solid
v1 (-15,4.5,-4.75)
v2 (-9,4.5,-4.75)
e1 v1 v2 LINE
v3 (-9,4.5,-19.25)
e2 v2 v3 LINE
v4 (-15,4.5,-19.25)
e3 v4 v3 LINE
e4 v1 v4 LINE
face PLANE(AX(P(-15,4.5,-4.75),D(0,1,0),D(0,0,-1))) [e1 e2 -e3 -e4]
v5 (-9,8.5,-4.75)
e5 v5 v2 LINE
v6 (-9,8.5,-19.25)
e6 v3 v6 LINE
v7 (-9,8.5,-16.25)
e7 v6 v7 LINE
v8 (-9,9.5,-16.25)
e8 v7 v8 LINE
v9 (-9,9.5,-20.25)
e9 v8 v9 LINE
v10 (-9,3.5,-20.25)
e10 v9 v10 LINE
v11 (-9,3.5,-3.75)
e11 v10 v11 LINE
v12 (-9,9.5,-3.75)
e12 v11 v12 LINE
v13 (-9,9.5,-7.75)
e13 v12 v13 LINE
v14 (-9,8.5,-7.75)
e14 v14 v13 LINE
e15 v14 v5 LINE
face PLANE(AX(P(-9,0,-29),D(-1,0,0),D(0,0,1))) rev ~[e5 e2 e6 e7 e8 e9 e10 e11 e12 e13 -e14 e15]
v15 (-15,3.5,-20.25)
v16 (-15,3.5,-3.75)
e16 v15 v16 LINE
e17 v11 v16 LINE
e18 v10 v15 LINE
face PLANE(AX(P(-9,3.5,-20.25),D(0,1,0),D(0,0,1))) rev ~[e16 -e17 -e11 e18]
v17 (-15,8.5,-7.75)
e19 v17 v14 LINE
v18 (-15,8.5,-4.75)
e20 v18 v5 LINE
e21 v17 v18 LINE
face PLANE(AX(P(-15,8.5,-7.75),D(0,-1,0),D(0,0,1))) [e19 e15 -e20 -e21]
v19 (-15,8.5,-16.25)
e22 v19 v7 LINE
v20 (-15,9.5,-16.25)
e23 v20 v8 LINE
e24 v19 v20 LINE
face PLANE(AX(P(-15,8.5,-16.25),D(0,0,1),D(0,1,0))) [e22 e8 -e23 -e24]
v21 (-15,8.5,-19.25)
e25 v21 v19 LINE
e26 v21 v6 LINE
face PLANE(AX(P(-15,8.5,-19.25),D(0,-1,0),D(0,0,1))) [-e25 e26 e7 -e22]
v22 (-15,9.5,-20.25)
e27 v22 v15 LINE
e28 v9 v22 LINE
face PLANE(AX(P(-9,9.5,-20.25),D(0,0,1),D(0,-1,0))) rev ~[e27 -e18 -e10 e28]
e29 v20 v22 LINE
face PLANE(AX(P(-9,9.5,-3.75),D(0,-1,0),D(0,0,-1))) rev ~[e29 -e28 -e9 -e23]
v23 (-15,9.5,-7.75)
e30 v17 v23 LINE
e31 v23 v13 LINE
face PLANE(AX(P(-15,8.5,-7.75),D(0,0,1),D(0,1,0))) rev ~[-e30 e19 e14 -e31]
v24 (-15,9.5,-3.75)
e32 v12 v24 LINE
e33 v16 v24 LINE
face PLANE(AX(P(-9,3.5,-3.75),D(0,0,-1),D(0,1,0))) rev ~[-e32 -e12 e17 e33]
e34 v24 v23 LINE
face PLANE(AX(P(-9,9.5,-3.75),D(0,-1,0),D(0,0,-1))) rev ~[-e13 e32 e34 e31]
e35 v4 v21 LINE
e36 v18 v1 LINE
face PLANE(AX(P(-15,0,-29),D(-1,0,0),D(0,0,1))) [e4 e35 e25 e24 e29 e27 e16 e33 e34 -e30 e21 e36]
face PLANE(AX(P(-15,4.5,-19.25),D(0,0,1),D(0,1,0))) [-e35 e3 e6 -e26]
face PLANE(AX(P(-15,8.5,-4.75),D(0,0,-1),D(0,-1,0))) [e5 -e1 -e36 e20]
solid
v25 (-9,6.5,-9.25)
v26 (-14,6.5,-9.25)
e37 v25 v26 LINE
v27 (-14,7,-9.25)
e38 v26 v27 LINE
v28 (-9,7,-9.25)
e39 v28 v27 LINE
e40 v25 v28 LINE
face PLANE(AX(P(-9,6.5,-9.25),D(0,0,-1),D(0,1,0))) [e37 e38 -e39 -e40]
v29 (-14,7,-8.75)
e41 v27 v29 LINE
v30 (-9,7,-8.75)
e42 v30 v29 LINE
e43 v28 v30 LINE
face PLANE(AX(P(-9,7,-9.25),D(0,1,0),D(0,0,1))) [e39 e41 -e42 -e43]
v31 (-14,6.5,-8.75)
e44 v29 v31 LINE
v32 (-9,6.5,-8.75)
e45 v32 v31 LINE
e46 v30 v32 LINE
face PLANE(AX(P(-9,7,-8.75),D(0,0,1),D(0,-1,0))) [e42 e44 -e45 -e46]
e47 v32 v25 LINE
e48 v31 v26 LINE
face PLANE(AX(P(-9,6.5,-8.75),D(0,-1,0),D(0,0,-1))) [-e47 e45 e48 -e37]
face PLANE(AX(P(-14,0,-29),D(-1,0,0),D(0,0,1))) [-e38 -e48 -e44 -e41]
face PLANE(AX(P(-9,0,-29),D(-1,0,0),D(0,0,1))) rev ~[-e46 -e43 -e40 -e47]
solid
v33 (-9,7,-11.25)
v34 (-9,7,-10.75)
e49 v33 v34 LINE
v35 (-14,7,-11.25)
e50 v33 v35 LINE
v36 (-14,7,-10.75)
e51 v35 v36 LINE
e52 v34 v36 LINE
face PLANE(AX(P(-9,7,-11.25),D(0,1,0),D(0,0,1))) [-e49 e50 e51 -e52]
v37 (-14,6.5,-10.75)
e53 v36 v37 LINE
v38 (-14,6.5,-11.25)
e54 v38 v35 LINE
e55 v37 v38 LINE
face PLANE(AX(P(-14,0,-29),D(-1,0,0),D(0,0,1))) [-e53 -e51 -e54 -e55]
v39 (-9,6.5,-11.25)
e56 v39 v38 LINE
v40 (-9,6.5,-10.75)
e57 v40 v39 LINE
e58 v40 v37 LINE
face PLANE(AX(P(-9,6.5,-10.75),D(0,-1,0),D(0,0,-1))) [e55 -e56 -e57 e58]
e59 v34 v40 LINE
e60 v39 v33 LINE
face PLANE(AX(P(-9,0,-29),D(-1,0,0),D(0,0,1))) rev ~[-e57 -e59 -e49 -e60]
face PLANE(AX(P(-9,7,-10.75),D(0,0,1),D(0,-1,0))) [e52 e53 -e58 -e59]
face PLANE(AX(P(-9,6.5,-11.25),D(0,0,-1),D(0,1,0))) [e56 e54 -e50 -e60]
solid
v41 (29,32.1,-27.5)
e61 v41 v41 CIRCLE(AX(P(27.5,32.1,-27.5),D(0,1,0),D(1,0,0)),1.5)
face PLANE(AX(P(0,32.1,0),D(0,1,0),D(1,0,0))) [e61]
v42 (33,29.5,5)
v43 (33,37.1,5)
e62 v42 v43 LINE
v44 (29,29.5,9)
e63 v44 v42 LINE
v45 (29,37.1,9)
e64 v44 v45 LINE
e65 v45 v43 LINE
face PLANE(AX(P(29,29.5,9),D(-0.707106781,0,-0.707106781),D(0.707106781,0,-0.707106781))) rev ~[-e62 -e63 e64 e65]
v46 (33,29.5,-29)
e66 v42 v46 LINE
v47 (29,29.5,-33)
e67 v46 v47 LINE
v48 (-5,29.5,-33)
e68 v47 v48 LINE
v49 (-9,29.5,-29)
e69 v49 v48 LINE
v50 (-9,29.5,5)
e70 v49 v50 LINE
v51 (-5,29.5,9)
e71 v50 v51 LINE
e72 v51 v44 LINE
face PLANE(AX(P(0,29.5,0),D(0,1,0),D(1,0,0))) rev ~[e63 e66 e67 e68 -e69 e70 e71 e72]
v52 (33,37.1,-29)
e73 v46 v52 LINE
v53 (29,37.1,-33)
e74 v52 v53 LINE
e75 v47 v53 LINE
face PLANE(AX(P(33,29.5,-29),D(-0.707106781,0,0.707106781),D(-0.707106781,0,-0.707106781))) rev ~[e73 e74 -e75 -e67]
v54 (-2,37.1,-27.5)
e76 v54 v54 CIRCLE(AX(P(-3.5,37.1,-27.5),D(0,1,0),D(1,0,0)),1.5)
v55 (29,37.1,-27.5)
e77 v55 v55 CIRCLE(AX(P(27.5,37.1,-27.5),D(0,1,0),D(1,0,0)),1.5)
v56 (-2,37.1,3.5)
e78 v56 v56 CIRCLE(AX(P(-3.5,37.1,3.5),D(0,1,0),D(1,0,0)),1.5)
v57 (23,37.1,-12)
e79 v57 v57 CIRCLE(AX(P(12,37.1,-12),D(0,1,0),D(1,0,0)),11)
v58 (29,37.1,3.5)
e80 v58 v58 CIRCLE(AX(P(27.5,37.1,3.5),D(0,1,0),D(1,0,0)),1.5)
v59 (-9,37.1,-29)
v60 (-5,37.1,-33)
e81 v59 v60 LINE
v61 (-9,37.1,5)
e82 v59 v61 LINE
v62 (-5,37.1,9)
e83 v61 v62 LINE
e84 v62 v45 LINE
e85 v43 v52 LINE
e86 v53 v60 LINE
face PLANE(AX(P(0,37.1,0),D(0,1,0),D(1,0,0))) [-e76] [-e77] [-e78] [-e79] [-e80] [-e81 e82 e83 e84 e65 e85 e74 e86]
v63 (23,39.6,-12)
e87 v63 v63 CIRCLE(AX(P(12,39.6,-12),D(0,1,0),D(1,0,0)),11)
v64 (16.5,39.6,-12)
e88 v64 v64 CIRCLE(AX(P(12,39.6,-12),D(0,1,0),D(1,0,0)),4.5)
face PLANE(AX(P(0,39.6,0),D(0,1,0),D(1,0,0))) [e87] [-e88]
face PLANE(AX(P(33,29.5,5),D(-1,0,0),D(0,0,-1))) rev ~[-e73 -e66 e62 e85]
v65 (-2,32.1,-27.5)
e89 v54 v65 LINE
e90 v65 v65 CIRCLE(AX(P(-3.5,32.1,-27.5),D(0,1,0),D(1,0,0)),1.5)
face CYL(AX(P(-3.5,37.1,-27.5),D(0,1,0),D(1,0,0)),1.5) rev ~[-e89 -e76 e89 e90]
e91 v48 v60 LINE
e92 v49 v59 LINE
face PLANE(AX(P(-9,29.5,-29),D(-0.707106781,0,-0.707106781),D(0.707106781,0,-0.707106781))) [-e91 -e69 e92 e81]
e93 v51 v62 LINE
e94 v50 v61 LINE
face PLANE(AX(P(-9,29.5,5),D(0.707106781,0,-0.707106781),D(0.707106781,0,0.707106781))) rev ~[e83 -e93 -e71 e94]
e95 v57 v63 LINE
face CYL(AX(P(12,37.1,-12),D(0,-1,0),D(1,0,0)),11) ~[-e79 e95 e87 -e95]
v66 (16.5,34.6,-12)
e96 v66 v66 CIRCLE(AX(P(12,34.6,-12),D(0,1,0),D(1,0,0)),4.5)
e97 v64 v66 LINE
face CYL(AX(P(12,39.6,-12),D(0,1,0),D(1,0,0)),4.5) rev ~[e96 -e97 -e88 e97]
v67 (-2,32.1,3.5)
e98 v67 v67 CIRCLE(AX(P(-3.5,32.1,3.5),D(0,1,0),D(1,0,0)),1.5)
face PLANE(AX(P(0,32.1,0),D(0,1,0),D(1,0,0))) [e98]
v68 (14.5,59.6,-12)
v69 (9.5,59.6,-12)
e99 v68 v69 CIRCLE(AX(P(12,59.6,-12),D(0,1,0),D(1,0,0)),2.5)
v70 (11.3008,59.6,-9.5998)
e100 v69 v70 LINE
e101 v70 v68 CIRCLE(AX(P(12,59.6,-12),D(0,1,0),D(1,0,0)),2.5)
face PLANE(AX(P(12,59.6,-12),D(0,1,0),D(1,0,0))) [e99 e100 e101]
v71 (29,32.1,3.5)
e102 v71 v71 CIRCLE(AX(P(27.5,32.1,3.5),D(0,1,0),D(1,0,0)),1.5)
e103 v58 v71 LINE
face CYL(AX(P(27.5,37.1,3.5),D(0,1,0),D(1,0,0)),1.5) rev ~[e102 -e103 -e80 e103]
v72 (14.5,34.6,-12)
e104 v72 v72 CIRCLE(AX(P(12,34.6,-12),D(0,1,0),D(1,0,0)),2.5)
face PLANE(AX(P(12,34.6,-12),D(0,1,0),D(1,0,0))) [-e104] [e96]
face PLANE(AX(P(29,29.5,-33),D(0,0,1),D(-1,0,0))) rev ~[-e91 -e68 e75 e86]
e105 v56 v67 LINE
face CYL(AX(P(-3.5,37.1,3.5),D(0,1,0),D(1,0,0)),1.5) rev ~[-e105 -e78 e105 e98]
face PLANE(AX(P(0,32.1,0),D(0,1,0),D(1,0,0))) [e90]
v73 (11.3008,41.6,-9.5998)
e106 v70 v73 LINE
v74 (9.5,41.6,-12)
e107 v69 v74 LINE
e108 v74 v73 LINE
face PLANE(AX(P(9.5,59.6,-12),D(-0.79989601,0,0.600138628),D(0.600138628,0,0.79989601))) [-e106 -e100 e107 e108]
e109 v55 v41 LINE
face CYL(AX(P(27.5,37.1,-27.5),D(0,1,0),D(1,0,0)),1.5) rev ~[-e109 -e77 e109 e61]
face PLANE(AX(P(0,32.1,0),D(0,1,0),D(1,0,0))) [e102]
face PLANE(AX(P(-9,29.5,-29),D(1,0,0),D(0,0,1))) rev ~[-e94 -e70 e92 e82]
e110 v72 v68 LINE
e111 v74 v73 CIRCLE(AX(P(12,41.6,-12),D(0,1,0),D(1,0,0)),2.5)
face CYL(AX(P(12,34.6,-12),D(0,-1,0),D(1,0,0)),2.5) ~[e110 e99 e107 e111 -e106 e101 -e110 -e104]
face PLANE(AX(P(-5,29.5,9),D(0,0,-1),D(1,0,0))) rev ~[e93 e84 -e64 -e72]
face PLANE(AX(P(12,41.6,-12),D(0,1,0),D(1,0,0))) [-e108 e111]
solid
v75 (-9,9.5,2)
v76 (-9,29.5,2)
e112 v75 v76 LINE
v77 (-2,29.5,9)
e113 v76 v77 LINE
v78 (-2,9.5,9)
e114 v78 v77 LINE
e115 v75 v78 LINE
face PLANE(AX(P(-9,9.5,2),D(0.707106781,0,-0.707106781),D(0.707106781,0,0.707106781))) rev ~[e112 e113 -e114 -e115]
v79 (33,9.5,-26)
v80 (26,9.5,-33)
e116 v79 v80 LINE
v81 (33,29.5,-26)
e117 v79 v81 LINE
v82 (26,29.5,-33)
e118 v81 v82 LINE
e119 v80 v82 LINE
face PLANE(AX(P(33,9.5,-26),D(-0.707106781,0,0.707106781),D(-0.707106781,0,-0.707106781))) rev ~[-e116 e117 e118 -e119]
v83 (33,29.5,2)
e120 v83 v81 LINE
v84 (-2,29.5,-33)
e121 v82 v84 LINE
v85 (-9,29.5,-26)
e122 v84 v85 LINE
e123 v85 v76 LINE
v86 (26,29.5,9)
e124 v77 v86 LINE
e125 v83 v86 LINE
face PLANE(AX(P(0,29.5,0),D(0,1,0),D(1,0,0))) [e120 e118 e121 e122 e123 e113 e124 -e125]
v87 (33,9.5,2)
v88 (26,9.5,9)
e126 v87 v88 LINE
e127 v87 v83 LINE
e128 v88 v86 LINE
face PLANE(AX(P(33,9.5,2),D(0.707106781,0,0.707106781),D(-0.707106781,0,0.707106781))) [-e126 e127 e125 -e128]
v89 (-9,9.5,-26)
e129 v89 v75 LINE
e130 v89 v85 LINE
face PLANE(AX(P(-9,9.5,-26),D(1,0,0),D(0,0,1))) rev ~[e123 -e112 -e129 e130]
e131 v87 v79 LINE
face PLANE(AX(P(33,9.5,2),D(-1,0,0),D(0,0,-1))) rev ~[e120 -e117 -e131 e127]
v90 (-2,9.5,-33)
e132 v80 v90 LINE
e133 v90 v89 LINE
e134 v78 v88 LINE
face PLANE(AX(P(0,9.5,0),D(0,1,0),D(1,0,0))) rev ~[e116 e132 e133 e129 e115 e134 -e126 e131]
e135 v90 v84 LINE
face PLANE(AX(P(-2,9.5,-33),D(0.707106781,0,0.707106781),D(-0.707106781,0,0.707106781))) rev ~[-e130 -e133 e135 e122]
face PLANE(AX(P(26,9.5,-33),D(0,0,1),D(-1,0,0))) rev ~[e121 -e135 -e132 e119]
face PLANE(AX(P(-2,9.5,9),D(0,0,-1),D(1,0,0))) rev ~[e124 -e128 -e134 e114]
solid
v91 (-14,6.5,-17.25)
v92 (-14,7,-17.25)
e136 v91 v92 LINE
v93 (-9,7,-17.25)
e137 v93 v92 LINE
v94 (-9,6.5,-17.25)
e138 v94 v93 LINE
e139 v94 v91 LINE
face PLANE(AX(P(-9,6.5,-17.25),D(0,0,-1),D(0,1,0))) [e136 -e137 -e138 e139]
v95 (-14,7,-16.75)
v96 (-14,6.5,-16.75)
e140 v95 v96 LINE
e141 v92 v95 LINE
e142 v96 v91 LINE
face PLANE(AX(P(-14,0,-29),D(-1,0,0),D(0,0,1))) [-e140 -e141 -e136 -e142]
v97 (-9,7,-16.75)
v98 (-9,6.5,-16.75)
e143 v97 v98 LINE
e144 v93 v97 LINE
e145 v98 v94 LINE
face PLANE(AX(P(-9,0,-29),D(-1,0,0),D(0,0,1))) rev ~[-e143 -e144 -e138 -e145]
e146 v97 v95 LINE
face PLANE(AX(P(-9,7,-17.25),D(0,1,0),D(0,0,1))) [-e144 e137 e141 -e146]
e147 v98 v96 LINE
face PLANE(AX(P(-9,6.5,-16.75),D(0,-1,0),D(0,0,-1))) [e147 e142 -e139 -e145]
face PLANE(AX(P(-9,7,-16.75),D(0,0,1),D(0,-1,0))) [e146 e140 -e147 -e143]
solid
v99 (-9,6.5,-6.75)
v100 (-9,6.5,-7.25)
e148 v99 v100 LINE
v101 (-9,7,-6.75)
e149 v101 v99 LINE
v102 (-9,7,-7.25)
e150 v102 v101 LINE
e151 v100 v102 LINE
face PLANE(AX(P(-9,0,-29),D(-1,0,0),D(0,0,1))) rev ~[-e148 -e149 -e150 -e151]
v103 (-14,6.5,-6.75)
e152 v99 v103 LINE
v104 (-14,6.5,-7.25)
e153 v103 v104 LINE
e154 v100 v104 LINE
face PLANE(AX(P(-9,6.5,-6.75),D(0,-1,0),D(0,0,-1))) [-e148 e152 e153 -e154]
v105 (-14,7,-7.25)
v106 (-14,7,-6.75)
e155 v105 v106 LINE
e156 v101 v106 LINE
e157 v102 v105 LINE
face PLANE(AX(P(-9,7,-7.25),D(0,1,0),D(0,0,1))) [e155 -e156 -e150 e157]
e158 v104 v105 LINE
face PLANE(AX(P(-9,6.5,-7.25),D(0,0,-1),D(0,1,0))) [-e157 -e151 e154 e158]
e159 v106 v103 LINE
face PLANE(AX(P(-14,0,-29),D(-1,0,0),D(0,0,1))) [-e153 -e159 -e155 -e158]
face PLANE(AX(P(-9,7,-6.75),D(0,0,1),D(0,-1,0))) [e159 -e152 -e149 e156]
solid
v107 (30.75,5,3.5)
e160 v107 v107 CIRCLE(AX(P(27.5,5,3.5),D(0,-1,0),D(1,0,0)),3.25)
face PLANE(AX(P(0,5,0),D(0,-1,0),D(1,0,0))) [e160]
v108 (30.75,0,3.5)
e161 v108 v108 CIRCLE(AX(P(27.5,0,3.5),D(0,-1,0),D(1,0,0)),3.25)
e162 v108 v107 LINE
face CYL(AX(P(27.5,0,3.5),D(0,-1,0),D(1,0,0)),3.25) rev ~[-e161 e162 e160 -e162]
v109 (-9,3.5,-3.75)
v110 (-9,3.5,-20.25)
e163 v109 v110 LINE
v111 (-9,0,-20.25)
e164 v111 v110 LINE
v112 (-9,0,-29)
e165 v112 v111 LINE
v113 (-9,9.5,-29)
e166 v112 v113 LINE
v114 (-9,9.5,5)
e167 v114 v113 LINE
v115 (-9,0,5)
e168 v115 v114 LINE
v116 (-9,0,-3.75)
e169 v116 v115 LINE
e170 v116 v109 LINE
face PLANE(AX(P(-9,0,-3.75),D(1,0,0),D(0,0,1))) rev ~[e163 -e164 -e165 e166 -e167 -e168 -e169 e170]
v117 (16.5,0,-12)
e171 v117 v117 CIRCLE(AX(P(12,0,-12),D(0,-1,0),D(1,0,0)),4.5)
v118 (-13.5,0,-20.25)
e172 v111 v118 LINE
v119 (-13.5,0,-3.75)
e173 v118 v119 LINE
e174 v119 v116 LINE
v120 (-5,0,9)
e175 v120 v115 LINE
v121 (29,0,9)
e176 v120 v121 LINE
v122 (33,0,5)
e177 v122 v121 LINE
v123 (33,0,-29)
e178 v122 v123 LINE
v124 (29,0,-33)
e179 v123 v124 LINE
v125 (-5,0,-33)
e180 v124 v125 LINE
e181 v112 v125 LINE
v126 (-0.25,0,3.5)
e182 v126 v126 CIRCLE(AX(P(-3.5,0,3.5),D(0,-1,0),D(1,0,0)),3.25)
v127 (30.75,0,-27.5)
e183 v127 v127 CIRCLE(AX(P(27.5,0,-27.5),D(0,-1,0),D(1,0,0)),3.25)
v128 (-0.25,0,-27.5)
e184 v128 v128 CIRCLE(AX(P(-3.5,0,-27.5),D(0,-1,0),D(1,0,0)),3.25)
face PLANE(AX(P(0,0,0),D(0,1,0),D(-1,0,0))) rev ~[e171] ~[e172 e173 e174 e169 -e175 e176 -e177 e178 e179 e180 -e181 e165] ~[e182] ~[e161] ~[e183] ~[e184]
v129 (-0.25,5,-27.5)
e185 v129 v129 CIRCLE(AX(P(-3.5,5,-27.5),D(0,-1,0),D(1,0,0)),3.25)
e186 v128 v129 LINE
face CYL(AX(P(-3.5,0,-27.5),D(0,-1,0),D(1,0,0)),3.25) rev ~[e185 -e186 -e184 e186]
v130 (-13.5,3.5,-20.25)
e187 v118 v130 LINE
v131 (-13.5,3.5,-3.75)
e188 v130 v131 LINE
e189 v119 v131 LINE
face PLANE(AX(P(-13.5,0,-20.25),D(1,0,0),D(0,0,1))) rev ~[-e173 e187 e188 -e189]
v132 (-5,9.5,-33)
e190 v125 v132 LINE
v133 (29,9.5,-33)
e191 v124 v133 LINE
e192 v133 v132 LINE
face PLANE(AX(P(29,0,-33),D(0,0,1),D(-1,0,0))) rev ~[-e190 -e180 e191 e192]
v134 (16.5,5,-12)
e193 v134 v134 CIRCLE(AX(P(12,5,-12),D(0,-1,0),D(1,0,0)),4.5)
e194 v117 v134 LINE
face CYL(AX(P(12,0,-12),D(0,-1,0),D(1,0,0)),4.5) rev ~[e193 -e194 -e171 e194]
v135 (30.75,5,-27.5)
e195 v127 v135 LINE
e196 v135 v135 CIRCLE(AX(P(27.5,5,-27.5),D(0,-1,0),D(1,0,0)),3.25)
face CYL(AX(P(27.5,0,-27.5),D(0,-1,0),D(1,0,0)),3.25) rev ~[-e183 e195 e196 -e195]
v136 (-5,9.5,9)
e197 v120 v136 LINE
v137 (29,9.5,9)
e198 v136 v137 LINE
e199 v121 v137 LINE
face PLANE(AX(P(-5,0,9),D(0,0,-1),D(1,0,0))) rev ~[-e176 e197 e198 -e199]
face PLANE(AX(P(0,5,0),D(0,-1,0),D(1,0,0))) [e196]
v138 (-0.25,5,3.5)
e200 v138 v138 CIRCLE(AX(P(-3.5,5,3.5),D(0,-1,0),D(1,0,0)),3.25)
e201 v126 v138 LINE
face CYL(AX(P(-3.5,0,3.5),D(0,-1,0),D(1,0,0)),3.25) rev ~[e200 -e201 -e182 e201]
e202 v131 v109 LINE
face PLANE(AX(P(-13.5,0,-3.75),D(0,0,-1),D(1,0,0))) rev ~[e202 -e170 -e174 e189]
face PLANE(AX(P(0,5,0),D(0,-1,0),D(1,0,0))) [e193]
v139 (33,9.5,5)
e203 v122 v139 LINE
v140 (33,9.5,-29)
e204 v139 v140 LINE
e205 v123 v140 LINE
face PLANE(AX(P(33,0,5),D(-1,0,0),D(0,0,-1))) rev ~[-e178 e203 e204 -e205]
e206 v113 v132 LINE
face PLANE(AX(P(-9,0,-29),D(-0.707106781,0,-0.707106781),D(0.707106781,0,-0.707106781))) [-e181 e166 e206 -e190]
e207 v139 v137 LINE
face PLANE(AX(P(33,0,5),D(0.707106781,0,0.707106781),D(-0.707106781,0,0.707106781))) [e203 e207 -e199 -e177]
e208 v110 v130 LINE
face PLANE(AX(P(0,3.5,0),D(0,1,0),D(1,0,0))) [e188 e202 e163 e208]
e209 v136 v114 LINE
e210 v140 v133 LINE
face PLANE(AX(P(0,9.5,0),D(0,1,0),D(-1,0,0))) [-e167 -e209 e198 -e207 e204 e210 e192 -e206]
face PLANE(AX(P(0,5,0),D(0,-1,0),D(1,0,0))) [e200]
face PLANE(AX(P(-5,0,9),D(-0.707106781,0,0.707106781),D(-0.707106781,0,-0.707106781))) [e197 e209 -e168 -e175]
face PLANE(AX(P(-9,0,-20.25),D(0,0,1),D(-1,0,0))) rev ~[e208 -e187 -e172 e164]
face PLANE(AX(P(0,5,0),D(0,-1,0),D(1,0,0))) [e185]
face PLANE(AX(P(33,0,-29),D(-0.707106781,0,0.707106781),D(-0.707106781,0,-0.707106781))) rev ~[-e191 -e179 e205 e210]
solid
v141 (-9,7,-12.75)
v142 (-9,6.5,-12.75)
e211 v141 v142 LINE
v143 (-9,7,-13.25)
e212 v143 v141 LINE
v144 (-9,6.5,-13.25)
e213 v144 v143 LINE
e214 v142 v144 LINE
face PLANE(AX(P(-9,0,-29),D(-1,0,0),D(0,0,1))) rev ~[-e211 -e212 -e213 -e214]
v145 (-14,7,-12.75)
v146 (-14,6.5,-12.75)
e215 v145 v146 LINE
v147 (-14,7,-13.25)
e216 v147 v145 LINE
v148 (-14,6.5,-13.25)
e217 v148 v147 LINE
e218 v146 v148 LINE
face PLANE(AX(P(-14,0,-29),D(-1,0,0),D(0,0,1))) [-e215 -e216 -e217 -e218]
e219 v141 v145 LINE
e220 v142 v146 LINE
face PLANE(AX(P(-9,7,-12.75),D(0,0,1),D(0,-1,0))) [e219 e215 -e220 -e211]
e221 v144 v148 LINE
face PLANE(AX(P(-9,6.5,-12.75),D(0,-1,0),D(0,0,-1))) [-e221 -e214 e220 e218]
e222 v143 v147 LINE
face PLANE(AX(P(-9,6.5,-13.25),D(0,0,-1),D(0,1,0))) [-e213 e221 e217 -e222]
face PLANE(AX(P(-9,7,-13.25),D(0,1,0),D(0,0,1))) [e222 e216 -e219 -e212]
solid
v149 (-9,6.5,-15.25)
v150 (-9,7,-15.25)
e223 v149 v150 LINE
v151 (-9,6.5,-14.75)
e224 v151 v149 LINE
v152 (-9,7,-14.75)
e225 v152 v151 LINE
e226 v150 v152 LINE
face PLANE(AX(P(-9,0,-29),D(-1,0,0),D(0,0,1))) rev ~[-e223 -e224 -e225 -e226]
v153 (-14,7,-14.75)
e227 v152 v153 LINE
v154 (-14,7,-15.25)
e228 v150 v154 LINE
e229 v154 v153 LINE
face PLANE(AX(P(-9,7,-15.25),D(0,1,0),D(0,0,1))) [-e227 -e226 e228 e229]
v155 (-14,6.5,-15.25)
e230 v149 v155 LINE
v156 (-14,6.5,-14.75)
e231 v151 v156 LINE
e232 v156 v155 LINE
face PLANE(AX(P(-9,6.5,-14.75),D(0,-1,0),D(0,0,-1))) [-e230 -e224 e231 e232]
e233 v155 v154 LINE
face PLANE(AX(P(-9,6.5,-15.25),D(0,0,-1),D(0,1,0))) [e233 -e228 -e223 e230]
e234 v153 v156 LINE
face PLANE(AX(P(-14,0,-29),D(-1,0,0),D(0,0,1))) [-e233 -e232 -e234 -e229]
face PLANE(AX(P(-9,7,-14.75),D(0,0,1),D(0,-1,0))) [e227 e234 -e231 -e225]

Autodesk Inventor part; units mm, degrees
ref_plane "YZ Plane" through (0, 0, 0) normal (1, 0, 0) x (0, 1, 0)
ref_plane "XZ Plane" through (0, 0, 0) normal (0, 1, 0) x (-1, 0, 0)
ref_plane "XY Plane" through (0, 0, 0) normal (0, 0, 1) x (1, 0, 0)
sketch "Эскиз1" plane through (0, 0, 0) normal (0, 1, 0) x (-1, 0, 0)
  line L0 (9, 9) -> (-33, 9)
  line L1 (-33, 9) -> (-33, -33)
  line L2 (-33, -33) -> (9, -33)
  line L3 (9, -33) -> (9, 9)
  line L4 (9, -29) -> (5, -33)
  line L5 (9, 9) -> (-33, -33) construction
  line L6 (9, -33) -> (-33, 9) construction
  line L7 (5, 9) -> (9, 5)
  line L8 (-33, 5) -> (-29, 9)
  line L9 (-33, -29) -> (-29, -33)
  line L10 (13.5, -3.75) -> (9, -3.75)
  line L11 (9, -20.25) -> (13.5, -20.25)
  line L12 (13.5, -20.25) -> (13.5, -3.75)
  point P0 (0, 0)
  dimension "d0" = 42
  dimension "d1" = 42
  dimension "d2" = 4
  dimension "d3" = 4
  dimension "d17" = 12.75
  dimension "d18" = 16.5
  dimension "d19" = 4.5
extrude "Выдавливание1" add sketch "Эскиз1" along normal blind 9.5 contours L7 L3 L4 L2 L9 L1 L8 L0 | L10 L12 L11 L3
sketch "Эскиз2" plane through (0, 0, 0) normal (0, -1, 0) x (1, 0, 0)
  line L0 (-9, -33) -> (33, -33)
  line L1 (33, -33) -> (33, 9)
  line L2 (33, 9) -> (-9, 9)
  line L3 (-9, 9) -> (-9, -33)
  line L4 (-9, -33) -> (33, 9) construction
  line L5 (33, -33) -> (-9, 9) construction
  circle A0 centre (12, -12) radius 4.5
  circle A1 centre (-3.5, -27.5) radius 3.25
  circle A2 centre (-3.5, 3.5) radius 3.25
  circle A3 centre (27.5, 3.5) radius 3.25
  circle A4 centre (27.5, -27.5) radius 3.25
  line L6 (33, 5) -> (33, -29) projected
  line L7 (-5, 9) -> (29, 9) projected
  line L8 (29, -33) -> (-5, -33) projected
  line L9 (-9, -3.75) -> (-9, 5) projected
  point P0 (0, 0)
  dimension "d22" = 9
  dimension "d23" = 6.5
  dimension "d25" = 5.5
  dimension "d28" = 360
extrude "Выдавливание2" cut sketch "Эскиз2" against normal blind 5 contours A0 | A1 | A2 | A3 | A4
sketch "Эскиз3" plane through (0, 9.5, 0) normal (0, 1, 0) x (1, 0, 0)
  line L0 (-13.5, 3.75) -> (-9, 3.75) projected
  line L1 (-13.5, 3.75) -> (-9, 3.75)
  line L2 (-9, 3.75) -> (-9, 20.25)
  line L3 (-9, 20.25) -> (-13.5, 20.25)
  line L4 (-13.5, 20.25) -> (-13.5, 3.75)
  point P0 (0, 0)
extrude "Выдавливание3" cut sketch "Эскиз3" against normal blind 6
sketch "Эскиз4" plane through (-9, 0, -29) normal (-1, 0, 0) x (0, 0, 1)
  line L0 (8.75, 3.5) -> (25.25, 3.5) projected
  line L1 (8.75, 3.5) -> (25.25, 3.5)
  line L2 (25.25, 3.5) -> (25.25, 9.5)
  line L3 (25.25, 9.5) -> (8.75, 9.5)
  line L4 (8.75, 9.5) -> (8.75, 3.5)
  point P0 (29, 0)
  dimension "d34" = 16.5
  dimension "d35" = 6
extrude "Выдавливание4" add sketch "Эскиз4" along normal blind 6 separate body
sketch "Эскиз5" plane through (-15, 0, -29) normal (-1, 0, 0) x (0, 0, 1)
  line L0 (25.25, 9.5) -> (8.75, 9.5) projected
  line L1 (25.25, 3.5) -> (8.75, 3.5) projected
  line L2 (8.75, 9.5) -> (25.25, 9.5)
  line L3 (25.25, 9.5) -> (25.25, 3.5)
  line L4 (25.25, 3.5) -> (8.75, 3.5)
  line L5 (8.75, 3.5) -> (8.75, 9.5)
  line L6 (9.75, 8.5) -> (12.75, 8.5)
  line L7 (24.25, 8.5) -> (24.25, 4.5)
  line L8 (24.25, 4.5) -> (9.75, 4.5)
  line L9 (9.75, 4.5) -> (9.75, 8.5)
  line L10 (12.75, 8.5) -> (12.75, 9.5)
  line L11 (21.25, 8.5) -> (21.25, 9.5)
  line L12 (0, 9.5) -> (34, 9.5) projected
  line L13 (21.25, 8.5) -> (24.25, 8.5)
  point P0 (29, 0)
  dimension "d38" = 1
  dimension "d39" = 4
  dimension "d40" = 4
extrude "Выдавливание5" cut sketch "Эскиз5" against normal blind 6 contours L11 L13 L7 L8 L9 L6 L10 L0 bodies 2
sketch "Эскиз6" plane through (-9, 0, -29) normal (-1, 0, 0) x (0, 0, 1)
  line L0 (11.75, 7) -> (12.25, 7)
  line L1 (12.25, 7) -> (12.25, 6.5)
  line L2 (12.25, 6.5) -> (11.75, 6.5)
  line L3 (11.75, 6.5) -> (11.75, 7)
  line L4 (13.75, 7) -> (14.25, 7)
  line L5 (14.25, 7) -> (14.25, 6.5)
  line L6 (14.25, 6.5) -> (13.75, 6.5)
  line L7 (13.75, 6.5) -> (13.75, 7)
  line L8 (15.75, 7) -> (16.25, 7)
  line L9 (16.25, 7) -> (16.25, 6.5)
  line L10 (16.25, 6.5) -> (15.75, 6.5)
  line L11 (15.75, 6.5) -> (15.75, 7)
  line L12 (17.75, 7) -> (18.25, 7)
  line L13 (18.25, 7) -> (18.25, 6.5)
  line L14 (18.25, 6.5) -> (17.75, 6.5)
  line L15 (17.75, 6.5) -> (17.75, 7)
  line L16 (19.75, 7) -> (20.25, 7)
  line L17 (20.25, 7) -> (20.25, 6.5)
  line L18 (20.25, 6.5) -> (19.75, 6.5)
  line L19 (19.75, 6.5) -> (19.75, 7)
  line L20 (21.75, 7) -> (22.25, 7)
  line L21 (22.25, 7) -> (22.25, 6.5)
  line L22 (22.25, 6.5) -> (21.75, 6.5)
  line L23 (21.75, 6.5) -> (21.75, 7)
  line L24 (8.75, 0) -> (8.75, 3.5) projected
  point P0 (29, 0)
  dimension "d43" = 0.5
  dimension "d44" = 0.5
  dimension "d47" = 2
  dimension "d52" = 3
extrude "Выдавливание6" add sketch "Эскиз6" along normal blind 5 separate body
sketch "Эскиз7" plane through (0, 9.5, 0) normal (0, 1, 0) x (1, 0, 0)
  line L0 (33, 33) -> (-9, 33)
  line L1 (-9, 33) -> (-9, -9)
  line L2 (-9, -9) -> (33, -9)
  line L3 (33, -9) -> (33, 33)
  line L4 (33, -2) -> (26, -9)
  line L5 (33, -5) -> (33, 29) projected
  line L6 (-5, -9) -> (29, -9) projected
  line L7 (-9, 29) -> (-9, -5) projected
  line L8 (-9, -2) -> (-2, -9)
  line L9 (-2, 33) -> (-9, 26)
  line L10 (33, 26) -> (26, 33)
  line L11 (29, 33) -> (-5, 33) projected
  point P0 (0, 0)
  point P1 (33, 12)
  point P2 (12, -9)
  point P3 (-2, -9)
  dimension "d56" = 7
  dimension "d57" = 42
  dimension "d58" = 42
  dimension "d59" = 7
extrude "Выдавливание7" add sketch "Эскиз7" along normal blind 20 separate body contours L10 L3 L4 L2 L8 L1 L9 L0
sketch "Эскиз8" plane through (0, 29.5, 0) normal (0, 1, 0) x (1, 0, 0)
  line L0 (33, 33) -> (-9, 33)
  line L1 (-9, 33) -> (-9, -9)
  line L2 (-9, -9) -> (33, -9)
  line L3 (33, -9) -> (33, 33)
  line L4 (33, 29) -> (29, 33)
  line L5 (29, -9) -> (33, -5)
  line L6 (-9, -5) -> (-5, -9)
  line L7 (-9, 29) -> (-5, 33)
  point P0 (0, 0)
  dimension "d62" = 42
  dimension "d63" = 42
  dimension "d64" = 4
  dimension "d65" = 4
extrude "Выдавливание8" add sketch "Эскиз8" along normal blind 7.6 contours L4 L3 L5 L2 L6 L1 L7 L0 bodies 1
sketch "Эскиз9" plane through (0, 37.1, 0) normal (0, 1, 0) x (1, 0, 0)
  line L0 (33, -9) -> (-9, -9)
  line L1 (-9, -9) -> (-9, 33)
  line L2 (-9, 33) -> (33, 33)
  line L3 (33, 33) -> (33, -9)
  line L4 (33, -9) -> (-9, 33) construction
  line L5 (-9, -9) -> (33, 33) construction
  circle A0 centre (12, 12) radius 11
  point P0 (0, 0)
  dimension "d68" = 42
  dimension "d69" = 42
  dimension "d70" = 22
extrude "Выдавливание9" add sketch "Эскиз9" along normal blind 2.5 contours A0 bodies 1
sketch "Эскиз10" plane through (12, 39.6, -12) normal (0, 1, 0) x (1, 0, 0)
  circle A0 centre (0, 0) radius 11 projected
  circle A1 centre (0, 0) radius 4.5
  point P0 (-12, -12)
  dimension "d73" = 9
extrude "Выдавливание10" cut sketch "Эскиз10" against normal blind 5 contours A1 bodies 1
sketch "Эскиз11" plane through (12, 34.6, -12) normal (0, 1, 0) x (1, 0, 0)
  circle A0 centre (0, 0) radius 4.5 projected
  circle A1 centre (0, 0) radius 2.5
  point P0 (-12, -12)
  dimension "d76" = 5
extrude "Выдавливание11" add sketch "Эскиз11" along normal blind 25 contours A1 bodies 1
sketch "Эскиз12" plane through (12, 59.6, -12) normal (0, 1, 0) x (1, 0, 0)
  circle A0 centre (0, 0) radius 2.5 projected
  line L0 (-2.5, 0) -> (-0.6992, -2.4002)
  circle A1 centre (0, 0) radius 2.5
  point P0 (-12, -12)
extrude "Выдавливание12" cut sketch "Эскиз12" against normal blind 18 contours L0 A0 picked at (-1.8806, -0.9775) bodies 1
sketch "Эскиз13" plane through (0, 37.1, 0) normal (0, 1, 0) x (1, 0, 0)
  line L0 (-9, -9) -> (33, -9)
  line L1 (33, -9) -> (33, 33)
  line L2 (33, 33) -> (-9, 33)
  line L3 (-9, 33) -> (-9, -9)
  circle A0 centre (27.5, 27.5) radius 1.5
  circle A1 centre (-3.5, -3.5) radius 1.5
  line L4 (-9, 29) -> (-9, -5) projected
  line L5 (-9, 27.5) -> (33, 27.5) construction
  line L6 (33, -5) -> (33, 29) projected
  line L7 (29, 33) -> (-5, 33) projected
  line L8 (27.5, 33) -> (27.5, -9) construction
  line L9 (-5, -9) -> (29, -9) projected
  line L10 (-9, -3.5) -> (33, -3.5) construction
  line L11 (33, -5) -> (33, 29) projected
  line L12 (-3.5, -9) -> (-3.5, 33) construction
  line L13 (29, 33) -> (-5, 33) projected
  circle A2 centre (-3.5, 27.5) radius 1.5
  circle A3 centre (27.5, -3.5) radius 1.5
  point P0 (0, 0)
  dimension "d81" = 42
  dimension "d82" = 42
  dimension "d85" = 3
  dimension "d86" = 3
  dimension "d89" = 5.5
  dimension "d90" = 5.5
  dimension "d91" = 5.5
  dimension "d92" = 5.5
  dimension "d93" = 3
  dimension "d94" = 3
extrude "Выдавливание13" cut sketch "Эскиз13" against normal blind 5 contours A0 | A1 | A2 | A3 bodies 1
equation "\"d85\" = d93"
equation "\"d86\" = d93"
equation "\"d90\" = d89"
equation "\"d91\" = d89"
equation "\"d92\" = d89"
equation "\"d94\" = d93"
properties part number "Nema-17"
